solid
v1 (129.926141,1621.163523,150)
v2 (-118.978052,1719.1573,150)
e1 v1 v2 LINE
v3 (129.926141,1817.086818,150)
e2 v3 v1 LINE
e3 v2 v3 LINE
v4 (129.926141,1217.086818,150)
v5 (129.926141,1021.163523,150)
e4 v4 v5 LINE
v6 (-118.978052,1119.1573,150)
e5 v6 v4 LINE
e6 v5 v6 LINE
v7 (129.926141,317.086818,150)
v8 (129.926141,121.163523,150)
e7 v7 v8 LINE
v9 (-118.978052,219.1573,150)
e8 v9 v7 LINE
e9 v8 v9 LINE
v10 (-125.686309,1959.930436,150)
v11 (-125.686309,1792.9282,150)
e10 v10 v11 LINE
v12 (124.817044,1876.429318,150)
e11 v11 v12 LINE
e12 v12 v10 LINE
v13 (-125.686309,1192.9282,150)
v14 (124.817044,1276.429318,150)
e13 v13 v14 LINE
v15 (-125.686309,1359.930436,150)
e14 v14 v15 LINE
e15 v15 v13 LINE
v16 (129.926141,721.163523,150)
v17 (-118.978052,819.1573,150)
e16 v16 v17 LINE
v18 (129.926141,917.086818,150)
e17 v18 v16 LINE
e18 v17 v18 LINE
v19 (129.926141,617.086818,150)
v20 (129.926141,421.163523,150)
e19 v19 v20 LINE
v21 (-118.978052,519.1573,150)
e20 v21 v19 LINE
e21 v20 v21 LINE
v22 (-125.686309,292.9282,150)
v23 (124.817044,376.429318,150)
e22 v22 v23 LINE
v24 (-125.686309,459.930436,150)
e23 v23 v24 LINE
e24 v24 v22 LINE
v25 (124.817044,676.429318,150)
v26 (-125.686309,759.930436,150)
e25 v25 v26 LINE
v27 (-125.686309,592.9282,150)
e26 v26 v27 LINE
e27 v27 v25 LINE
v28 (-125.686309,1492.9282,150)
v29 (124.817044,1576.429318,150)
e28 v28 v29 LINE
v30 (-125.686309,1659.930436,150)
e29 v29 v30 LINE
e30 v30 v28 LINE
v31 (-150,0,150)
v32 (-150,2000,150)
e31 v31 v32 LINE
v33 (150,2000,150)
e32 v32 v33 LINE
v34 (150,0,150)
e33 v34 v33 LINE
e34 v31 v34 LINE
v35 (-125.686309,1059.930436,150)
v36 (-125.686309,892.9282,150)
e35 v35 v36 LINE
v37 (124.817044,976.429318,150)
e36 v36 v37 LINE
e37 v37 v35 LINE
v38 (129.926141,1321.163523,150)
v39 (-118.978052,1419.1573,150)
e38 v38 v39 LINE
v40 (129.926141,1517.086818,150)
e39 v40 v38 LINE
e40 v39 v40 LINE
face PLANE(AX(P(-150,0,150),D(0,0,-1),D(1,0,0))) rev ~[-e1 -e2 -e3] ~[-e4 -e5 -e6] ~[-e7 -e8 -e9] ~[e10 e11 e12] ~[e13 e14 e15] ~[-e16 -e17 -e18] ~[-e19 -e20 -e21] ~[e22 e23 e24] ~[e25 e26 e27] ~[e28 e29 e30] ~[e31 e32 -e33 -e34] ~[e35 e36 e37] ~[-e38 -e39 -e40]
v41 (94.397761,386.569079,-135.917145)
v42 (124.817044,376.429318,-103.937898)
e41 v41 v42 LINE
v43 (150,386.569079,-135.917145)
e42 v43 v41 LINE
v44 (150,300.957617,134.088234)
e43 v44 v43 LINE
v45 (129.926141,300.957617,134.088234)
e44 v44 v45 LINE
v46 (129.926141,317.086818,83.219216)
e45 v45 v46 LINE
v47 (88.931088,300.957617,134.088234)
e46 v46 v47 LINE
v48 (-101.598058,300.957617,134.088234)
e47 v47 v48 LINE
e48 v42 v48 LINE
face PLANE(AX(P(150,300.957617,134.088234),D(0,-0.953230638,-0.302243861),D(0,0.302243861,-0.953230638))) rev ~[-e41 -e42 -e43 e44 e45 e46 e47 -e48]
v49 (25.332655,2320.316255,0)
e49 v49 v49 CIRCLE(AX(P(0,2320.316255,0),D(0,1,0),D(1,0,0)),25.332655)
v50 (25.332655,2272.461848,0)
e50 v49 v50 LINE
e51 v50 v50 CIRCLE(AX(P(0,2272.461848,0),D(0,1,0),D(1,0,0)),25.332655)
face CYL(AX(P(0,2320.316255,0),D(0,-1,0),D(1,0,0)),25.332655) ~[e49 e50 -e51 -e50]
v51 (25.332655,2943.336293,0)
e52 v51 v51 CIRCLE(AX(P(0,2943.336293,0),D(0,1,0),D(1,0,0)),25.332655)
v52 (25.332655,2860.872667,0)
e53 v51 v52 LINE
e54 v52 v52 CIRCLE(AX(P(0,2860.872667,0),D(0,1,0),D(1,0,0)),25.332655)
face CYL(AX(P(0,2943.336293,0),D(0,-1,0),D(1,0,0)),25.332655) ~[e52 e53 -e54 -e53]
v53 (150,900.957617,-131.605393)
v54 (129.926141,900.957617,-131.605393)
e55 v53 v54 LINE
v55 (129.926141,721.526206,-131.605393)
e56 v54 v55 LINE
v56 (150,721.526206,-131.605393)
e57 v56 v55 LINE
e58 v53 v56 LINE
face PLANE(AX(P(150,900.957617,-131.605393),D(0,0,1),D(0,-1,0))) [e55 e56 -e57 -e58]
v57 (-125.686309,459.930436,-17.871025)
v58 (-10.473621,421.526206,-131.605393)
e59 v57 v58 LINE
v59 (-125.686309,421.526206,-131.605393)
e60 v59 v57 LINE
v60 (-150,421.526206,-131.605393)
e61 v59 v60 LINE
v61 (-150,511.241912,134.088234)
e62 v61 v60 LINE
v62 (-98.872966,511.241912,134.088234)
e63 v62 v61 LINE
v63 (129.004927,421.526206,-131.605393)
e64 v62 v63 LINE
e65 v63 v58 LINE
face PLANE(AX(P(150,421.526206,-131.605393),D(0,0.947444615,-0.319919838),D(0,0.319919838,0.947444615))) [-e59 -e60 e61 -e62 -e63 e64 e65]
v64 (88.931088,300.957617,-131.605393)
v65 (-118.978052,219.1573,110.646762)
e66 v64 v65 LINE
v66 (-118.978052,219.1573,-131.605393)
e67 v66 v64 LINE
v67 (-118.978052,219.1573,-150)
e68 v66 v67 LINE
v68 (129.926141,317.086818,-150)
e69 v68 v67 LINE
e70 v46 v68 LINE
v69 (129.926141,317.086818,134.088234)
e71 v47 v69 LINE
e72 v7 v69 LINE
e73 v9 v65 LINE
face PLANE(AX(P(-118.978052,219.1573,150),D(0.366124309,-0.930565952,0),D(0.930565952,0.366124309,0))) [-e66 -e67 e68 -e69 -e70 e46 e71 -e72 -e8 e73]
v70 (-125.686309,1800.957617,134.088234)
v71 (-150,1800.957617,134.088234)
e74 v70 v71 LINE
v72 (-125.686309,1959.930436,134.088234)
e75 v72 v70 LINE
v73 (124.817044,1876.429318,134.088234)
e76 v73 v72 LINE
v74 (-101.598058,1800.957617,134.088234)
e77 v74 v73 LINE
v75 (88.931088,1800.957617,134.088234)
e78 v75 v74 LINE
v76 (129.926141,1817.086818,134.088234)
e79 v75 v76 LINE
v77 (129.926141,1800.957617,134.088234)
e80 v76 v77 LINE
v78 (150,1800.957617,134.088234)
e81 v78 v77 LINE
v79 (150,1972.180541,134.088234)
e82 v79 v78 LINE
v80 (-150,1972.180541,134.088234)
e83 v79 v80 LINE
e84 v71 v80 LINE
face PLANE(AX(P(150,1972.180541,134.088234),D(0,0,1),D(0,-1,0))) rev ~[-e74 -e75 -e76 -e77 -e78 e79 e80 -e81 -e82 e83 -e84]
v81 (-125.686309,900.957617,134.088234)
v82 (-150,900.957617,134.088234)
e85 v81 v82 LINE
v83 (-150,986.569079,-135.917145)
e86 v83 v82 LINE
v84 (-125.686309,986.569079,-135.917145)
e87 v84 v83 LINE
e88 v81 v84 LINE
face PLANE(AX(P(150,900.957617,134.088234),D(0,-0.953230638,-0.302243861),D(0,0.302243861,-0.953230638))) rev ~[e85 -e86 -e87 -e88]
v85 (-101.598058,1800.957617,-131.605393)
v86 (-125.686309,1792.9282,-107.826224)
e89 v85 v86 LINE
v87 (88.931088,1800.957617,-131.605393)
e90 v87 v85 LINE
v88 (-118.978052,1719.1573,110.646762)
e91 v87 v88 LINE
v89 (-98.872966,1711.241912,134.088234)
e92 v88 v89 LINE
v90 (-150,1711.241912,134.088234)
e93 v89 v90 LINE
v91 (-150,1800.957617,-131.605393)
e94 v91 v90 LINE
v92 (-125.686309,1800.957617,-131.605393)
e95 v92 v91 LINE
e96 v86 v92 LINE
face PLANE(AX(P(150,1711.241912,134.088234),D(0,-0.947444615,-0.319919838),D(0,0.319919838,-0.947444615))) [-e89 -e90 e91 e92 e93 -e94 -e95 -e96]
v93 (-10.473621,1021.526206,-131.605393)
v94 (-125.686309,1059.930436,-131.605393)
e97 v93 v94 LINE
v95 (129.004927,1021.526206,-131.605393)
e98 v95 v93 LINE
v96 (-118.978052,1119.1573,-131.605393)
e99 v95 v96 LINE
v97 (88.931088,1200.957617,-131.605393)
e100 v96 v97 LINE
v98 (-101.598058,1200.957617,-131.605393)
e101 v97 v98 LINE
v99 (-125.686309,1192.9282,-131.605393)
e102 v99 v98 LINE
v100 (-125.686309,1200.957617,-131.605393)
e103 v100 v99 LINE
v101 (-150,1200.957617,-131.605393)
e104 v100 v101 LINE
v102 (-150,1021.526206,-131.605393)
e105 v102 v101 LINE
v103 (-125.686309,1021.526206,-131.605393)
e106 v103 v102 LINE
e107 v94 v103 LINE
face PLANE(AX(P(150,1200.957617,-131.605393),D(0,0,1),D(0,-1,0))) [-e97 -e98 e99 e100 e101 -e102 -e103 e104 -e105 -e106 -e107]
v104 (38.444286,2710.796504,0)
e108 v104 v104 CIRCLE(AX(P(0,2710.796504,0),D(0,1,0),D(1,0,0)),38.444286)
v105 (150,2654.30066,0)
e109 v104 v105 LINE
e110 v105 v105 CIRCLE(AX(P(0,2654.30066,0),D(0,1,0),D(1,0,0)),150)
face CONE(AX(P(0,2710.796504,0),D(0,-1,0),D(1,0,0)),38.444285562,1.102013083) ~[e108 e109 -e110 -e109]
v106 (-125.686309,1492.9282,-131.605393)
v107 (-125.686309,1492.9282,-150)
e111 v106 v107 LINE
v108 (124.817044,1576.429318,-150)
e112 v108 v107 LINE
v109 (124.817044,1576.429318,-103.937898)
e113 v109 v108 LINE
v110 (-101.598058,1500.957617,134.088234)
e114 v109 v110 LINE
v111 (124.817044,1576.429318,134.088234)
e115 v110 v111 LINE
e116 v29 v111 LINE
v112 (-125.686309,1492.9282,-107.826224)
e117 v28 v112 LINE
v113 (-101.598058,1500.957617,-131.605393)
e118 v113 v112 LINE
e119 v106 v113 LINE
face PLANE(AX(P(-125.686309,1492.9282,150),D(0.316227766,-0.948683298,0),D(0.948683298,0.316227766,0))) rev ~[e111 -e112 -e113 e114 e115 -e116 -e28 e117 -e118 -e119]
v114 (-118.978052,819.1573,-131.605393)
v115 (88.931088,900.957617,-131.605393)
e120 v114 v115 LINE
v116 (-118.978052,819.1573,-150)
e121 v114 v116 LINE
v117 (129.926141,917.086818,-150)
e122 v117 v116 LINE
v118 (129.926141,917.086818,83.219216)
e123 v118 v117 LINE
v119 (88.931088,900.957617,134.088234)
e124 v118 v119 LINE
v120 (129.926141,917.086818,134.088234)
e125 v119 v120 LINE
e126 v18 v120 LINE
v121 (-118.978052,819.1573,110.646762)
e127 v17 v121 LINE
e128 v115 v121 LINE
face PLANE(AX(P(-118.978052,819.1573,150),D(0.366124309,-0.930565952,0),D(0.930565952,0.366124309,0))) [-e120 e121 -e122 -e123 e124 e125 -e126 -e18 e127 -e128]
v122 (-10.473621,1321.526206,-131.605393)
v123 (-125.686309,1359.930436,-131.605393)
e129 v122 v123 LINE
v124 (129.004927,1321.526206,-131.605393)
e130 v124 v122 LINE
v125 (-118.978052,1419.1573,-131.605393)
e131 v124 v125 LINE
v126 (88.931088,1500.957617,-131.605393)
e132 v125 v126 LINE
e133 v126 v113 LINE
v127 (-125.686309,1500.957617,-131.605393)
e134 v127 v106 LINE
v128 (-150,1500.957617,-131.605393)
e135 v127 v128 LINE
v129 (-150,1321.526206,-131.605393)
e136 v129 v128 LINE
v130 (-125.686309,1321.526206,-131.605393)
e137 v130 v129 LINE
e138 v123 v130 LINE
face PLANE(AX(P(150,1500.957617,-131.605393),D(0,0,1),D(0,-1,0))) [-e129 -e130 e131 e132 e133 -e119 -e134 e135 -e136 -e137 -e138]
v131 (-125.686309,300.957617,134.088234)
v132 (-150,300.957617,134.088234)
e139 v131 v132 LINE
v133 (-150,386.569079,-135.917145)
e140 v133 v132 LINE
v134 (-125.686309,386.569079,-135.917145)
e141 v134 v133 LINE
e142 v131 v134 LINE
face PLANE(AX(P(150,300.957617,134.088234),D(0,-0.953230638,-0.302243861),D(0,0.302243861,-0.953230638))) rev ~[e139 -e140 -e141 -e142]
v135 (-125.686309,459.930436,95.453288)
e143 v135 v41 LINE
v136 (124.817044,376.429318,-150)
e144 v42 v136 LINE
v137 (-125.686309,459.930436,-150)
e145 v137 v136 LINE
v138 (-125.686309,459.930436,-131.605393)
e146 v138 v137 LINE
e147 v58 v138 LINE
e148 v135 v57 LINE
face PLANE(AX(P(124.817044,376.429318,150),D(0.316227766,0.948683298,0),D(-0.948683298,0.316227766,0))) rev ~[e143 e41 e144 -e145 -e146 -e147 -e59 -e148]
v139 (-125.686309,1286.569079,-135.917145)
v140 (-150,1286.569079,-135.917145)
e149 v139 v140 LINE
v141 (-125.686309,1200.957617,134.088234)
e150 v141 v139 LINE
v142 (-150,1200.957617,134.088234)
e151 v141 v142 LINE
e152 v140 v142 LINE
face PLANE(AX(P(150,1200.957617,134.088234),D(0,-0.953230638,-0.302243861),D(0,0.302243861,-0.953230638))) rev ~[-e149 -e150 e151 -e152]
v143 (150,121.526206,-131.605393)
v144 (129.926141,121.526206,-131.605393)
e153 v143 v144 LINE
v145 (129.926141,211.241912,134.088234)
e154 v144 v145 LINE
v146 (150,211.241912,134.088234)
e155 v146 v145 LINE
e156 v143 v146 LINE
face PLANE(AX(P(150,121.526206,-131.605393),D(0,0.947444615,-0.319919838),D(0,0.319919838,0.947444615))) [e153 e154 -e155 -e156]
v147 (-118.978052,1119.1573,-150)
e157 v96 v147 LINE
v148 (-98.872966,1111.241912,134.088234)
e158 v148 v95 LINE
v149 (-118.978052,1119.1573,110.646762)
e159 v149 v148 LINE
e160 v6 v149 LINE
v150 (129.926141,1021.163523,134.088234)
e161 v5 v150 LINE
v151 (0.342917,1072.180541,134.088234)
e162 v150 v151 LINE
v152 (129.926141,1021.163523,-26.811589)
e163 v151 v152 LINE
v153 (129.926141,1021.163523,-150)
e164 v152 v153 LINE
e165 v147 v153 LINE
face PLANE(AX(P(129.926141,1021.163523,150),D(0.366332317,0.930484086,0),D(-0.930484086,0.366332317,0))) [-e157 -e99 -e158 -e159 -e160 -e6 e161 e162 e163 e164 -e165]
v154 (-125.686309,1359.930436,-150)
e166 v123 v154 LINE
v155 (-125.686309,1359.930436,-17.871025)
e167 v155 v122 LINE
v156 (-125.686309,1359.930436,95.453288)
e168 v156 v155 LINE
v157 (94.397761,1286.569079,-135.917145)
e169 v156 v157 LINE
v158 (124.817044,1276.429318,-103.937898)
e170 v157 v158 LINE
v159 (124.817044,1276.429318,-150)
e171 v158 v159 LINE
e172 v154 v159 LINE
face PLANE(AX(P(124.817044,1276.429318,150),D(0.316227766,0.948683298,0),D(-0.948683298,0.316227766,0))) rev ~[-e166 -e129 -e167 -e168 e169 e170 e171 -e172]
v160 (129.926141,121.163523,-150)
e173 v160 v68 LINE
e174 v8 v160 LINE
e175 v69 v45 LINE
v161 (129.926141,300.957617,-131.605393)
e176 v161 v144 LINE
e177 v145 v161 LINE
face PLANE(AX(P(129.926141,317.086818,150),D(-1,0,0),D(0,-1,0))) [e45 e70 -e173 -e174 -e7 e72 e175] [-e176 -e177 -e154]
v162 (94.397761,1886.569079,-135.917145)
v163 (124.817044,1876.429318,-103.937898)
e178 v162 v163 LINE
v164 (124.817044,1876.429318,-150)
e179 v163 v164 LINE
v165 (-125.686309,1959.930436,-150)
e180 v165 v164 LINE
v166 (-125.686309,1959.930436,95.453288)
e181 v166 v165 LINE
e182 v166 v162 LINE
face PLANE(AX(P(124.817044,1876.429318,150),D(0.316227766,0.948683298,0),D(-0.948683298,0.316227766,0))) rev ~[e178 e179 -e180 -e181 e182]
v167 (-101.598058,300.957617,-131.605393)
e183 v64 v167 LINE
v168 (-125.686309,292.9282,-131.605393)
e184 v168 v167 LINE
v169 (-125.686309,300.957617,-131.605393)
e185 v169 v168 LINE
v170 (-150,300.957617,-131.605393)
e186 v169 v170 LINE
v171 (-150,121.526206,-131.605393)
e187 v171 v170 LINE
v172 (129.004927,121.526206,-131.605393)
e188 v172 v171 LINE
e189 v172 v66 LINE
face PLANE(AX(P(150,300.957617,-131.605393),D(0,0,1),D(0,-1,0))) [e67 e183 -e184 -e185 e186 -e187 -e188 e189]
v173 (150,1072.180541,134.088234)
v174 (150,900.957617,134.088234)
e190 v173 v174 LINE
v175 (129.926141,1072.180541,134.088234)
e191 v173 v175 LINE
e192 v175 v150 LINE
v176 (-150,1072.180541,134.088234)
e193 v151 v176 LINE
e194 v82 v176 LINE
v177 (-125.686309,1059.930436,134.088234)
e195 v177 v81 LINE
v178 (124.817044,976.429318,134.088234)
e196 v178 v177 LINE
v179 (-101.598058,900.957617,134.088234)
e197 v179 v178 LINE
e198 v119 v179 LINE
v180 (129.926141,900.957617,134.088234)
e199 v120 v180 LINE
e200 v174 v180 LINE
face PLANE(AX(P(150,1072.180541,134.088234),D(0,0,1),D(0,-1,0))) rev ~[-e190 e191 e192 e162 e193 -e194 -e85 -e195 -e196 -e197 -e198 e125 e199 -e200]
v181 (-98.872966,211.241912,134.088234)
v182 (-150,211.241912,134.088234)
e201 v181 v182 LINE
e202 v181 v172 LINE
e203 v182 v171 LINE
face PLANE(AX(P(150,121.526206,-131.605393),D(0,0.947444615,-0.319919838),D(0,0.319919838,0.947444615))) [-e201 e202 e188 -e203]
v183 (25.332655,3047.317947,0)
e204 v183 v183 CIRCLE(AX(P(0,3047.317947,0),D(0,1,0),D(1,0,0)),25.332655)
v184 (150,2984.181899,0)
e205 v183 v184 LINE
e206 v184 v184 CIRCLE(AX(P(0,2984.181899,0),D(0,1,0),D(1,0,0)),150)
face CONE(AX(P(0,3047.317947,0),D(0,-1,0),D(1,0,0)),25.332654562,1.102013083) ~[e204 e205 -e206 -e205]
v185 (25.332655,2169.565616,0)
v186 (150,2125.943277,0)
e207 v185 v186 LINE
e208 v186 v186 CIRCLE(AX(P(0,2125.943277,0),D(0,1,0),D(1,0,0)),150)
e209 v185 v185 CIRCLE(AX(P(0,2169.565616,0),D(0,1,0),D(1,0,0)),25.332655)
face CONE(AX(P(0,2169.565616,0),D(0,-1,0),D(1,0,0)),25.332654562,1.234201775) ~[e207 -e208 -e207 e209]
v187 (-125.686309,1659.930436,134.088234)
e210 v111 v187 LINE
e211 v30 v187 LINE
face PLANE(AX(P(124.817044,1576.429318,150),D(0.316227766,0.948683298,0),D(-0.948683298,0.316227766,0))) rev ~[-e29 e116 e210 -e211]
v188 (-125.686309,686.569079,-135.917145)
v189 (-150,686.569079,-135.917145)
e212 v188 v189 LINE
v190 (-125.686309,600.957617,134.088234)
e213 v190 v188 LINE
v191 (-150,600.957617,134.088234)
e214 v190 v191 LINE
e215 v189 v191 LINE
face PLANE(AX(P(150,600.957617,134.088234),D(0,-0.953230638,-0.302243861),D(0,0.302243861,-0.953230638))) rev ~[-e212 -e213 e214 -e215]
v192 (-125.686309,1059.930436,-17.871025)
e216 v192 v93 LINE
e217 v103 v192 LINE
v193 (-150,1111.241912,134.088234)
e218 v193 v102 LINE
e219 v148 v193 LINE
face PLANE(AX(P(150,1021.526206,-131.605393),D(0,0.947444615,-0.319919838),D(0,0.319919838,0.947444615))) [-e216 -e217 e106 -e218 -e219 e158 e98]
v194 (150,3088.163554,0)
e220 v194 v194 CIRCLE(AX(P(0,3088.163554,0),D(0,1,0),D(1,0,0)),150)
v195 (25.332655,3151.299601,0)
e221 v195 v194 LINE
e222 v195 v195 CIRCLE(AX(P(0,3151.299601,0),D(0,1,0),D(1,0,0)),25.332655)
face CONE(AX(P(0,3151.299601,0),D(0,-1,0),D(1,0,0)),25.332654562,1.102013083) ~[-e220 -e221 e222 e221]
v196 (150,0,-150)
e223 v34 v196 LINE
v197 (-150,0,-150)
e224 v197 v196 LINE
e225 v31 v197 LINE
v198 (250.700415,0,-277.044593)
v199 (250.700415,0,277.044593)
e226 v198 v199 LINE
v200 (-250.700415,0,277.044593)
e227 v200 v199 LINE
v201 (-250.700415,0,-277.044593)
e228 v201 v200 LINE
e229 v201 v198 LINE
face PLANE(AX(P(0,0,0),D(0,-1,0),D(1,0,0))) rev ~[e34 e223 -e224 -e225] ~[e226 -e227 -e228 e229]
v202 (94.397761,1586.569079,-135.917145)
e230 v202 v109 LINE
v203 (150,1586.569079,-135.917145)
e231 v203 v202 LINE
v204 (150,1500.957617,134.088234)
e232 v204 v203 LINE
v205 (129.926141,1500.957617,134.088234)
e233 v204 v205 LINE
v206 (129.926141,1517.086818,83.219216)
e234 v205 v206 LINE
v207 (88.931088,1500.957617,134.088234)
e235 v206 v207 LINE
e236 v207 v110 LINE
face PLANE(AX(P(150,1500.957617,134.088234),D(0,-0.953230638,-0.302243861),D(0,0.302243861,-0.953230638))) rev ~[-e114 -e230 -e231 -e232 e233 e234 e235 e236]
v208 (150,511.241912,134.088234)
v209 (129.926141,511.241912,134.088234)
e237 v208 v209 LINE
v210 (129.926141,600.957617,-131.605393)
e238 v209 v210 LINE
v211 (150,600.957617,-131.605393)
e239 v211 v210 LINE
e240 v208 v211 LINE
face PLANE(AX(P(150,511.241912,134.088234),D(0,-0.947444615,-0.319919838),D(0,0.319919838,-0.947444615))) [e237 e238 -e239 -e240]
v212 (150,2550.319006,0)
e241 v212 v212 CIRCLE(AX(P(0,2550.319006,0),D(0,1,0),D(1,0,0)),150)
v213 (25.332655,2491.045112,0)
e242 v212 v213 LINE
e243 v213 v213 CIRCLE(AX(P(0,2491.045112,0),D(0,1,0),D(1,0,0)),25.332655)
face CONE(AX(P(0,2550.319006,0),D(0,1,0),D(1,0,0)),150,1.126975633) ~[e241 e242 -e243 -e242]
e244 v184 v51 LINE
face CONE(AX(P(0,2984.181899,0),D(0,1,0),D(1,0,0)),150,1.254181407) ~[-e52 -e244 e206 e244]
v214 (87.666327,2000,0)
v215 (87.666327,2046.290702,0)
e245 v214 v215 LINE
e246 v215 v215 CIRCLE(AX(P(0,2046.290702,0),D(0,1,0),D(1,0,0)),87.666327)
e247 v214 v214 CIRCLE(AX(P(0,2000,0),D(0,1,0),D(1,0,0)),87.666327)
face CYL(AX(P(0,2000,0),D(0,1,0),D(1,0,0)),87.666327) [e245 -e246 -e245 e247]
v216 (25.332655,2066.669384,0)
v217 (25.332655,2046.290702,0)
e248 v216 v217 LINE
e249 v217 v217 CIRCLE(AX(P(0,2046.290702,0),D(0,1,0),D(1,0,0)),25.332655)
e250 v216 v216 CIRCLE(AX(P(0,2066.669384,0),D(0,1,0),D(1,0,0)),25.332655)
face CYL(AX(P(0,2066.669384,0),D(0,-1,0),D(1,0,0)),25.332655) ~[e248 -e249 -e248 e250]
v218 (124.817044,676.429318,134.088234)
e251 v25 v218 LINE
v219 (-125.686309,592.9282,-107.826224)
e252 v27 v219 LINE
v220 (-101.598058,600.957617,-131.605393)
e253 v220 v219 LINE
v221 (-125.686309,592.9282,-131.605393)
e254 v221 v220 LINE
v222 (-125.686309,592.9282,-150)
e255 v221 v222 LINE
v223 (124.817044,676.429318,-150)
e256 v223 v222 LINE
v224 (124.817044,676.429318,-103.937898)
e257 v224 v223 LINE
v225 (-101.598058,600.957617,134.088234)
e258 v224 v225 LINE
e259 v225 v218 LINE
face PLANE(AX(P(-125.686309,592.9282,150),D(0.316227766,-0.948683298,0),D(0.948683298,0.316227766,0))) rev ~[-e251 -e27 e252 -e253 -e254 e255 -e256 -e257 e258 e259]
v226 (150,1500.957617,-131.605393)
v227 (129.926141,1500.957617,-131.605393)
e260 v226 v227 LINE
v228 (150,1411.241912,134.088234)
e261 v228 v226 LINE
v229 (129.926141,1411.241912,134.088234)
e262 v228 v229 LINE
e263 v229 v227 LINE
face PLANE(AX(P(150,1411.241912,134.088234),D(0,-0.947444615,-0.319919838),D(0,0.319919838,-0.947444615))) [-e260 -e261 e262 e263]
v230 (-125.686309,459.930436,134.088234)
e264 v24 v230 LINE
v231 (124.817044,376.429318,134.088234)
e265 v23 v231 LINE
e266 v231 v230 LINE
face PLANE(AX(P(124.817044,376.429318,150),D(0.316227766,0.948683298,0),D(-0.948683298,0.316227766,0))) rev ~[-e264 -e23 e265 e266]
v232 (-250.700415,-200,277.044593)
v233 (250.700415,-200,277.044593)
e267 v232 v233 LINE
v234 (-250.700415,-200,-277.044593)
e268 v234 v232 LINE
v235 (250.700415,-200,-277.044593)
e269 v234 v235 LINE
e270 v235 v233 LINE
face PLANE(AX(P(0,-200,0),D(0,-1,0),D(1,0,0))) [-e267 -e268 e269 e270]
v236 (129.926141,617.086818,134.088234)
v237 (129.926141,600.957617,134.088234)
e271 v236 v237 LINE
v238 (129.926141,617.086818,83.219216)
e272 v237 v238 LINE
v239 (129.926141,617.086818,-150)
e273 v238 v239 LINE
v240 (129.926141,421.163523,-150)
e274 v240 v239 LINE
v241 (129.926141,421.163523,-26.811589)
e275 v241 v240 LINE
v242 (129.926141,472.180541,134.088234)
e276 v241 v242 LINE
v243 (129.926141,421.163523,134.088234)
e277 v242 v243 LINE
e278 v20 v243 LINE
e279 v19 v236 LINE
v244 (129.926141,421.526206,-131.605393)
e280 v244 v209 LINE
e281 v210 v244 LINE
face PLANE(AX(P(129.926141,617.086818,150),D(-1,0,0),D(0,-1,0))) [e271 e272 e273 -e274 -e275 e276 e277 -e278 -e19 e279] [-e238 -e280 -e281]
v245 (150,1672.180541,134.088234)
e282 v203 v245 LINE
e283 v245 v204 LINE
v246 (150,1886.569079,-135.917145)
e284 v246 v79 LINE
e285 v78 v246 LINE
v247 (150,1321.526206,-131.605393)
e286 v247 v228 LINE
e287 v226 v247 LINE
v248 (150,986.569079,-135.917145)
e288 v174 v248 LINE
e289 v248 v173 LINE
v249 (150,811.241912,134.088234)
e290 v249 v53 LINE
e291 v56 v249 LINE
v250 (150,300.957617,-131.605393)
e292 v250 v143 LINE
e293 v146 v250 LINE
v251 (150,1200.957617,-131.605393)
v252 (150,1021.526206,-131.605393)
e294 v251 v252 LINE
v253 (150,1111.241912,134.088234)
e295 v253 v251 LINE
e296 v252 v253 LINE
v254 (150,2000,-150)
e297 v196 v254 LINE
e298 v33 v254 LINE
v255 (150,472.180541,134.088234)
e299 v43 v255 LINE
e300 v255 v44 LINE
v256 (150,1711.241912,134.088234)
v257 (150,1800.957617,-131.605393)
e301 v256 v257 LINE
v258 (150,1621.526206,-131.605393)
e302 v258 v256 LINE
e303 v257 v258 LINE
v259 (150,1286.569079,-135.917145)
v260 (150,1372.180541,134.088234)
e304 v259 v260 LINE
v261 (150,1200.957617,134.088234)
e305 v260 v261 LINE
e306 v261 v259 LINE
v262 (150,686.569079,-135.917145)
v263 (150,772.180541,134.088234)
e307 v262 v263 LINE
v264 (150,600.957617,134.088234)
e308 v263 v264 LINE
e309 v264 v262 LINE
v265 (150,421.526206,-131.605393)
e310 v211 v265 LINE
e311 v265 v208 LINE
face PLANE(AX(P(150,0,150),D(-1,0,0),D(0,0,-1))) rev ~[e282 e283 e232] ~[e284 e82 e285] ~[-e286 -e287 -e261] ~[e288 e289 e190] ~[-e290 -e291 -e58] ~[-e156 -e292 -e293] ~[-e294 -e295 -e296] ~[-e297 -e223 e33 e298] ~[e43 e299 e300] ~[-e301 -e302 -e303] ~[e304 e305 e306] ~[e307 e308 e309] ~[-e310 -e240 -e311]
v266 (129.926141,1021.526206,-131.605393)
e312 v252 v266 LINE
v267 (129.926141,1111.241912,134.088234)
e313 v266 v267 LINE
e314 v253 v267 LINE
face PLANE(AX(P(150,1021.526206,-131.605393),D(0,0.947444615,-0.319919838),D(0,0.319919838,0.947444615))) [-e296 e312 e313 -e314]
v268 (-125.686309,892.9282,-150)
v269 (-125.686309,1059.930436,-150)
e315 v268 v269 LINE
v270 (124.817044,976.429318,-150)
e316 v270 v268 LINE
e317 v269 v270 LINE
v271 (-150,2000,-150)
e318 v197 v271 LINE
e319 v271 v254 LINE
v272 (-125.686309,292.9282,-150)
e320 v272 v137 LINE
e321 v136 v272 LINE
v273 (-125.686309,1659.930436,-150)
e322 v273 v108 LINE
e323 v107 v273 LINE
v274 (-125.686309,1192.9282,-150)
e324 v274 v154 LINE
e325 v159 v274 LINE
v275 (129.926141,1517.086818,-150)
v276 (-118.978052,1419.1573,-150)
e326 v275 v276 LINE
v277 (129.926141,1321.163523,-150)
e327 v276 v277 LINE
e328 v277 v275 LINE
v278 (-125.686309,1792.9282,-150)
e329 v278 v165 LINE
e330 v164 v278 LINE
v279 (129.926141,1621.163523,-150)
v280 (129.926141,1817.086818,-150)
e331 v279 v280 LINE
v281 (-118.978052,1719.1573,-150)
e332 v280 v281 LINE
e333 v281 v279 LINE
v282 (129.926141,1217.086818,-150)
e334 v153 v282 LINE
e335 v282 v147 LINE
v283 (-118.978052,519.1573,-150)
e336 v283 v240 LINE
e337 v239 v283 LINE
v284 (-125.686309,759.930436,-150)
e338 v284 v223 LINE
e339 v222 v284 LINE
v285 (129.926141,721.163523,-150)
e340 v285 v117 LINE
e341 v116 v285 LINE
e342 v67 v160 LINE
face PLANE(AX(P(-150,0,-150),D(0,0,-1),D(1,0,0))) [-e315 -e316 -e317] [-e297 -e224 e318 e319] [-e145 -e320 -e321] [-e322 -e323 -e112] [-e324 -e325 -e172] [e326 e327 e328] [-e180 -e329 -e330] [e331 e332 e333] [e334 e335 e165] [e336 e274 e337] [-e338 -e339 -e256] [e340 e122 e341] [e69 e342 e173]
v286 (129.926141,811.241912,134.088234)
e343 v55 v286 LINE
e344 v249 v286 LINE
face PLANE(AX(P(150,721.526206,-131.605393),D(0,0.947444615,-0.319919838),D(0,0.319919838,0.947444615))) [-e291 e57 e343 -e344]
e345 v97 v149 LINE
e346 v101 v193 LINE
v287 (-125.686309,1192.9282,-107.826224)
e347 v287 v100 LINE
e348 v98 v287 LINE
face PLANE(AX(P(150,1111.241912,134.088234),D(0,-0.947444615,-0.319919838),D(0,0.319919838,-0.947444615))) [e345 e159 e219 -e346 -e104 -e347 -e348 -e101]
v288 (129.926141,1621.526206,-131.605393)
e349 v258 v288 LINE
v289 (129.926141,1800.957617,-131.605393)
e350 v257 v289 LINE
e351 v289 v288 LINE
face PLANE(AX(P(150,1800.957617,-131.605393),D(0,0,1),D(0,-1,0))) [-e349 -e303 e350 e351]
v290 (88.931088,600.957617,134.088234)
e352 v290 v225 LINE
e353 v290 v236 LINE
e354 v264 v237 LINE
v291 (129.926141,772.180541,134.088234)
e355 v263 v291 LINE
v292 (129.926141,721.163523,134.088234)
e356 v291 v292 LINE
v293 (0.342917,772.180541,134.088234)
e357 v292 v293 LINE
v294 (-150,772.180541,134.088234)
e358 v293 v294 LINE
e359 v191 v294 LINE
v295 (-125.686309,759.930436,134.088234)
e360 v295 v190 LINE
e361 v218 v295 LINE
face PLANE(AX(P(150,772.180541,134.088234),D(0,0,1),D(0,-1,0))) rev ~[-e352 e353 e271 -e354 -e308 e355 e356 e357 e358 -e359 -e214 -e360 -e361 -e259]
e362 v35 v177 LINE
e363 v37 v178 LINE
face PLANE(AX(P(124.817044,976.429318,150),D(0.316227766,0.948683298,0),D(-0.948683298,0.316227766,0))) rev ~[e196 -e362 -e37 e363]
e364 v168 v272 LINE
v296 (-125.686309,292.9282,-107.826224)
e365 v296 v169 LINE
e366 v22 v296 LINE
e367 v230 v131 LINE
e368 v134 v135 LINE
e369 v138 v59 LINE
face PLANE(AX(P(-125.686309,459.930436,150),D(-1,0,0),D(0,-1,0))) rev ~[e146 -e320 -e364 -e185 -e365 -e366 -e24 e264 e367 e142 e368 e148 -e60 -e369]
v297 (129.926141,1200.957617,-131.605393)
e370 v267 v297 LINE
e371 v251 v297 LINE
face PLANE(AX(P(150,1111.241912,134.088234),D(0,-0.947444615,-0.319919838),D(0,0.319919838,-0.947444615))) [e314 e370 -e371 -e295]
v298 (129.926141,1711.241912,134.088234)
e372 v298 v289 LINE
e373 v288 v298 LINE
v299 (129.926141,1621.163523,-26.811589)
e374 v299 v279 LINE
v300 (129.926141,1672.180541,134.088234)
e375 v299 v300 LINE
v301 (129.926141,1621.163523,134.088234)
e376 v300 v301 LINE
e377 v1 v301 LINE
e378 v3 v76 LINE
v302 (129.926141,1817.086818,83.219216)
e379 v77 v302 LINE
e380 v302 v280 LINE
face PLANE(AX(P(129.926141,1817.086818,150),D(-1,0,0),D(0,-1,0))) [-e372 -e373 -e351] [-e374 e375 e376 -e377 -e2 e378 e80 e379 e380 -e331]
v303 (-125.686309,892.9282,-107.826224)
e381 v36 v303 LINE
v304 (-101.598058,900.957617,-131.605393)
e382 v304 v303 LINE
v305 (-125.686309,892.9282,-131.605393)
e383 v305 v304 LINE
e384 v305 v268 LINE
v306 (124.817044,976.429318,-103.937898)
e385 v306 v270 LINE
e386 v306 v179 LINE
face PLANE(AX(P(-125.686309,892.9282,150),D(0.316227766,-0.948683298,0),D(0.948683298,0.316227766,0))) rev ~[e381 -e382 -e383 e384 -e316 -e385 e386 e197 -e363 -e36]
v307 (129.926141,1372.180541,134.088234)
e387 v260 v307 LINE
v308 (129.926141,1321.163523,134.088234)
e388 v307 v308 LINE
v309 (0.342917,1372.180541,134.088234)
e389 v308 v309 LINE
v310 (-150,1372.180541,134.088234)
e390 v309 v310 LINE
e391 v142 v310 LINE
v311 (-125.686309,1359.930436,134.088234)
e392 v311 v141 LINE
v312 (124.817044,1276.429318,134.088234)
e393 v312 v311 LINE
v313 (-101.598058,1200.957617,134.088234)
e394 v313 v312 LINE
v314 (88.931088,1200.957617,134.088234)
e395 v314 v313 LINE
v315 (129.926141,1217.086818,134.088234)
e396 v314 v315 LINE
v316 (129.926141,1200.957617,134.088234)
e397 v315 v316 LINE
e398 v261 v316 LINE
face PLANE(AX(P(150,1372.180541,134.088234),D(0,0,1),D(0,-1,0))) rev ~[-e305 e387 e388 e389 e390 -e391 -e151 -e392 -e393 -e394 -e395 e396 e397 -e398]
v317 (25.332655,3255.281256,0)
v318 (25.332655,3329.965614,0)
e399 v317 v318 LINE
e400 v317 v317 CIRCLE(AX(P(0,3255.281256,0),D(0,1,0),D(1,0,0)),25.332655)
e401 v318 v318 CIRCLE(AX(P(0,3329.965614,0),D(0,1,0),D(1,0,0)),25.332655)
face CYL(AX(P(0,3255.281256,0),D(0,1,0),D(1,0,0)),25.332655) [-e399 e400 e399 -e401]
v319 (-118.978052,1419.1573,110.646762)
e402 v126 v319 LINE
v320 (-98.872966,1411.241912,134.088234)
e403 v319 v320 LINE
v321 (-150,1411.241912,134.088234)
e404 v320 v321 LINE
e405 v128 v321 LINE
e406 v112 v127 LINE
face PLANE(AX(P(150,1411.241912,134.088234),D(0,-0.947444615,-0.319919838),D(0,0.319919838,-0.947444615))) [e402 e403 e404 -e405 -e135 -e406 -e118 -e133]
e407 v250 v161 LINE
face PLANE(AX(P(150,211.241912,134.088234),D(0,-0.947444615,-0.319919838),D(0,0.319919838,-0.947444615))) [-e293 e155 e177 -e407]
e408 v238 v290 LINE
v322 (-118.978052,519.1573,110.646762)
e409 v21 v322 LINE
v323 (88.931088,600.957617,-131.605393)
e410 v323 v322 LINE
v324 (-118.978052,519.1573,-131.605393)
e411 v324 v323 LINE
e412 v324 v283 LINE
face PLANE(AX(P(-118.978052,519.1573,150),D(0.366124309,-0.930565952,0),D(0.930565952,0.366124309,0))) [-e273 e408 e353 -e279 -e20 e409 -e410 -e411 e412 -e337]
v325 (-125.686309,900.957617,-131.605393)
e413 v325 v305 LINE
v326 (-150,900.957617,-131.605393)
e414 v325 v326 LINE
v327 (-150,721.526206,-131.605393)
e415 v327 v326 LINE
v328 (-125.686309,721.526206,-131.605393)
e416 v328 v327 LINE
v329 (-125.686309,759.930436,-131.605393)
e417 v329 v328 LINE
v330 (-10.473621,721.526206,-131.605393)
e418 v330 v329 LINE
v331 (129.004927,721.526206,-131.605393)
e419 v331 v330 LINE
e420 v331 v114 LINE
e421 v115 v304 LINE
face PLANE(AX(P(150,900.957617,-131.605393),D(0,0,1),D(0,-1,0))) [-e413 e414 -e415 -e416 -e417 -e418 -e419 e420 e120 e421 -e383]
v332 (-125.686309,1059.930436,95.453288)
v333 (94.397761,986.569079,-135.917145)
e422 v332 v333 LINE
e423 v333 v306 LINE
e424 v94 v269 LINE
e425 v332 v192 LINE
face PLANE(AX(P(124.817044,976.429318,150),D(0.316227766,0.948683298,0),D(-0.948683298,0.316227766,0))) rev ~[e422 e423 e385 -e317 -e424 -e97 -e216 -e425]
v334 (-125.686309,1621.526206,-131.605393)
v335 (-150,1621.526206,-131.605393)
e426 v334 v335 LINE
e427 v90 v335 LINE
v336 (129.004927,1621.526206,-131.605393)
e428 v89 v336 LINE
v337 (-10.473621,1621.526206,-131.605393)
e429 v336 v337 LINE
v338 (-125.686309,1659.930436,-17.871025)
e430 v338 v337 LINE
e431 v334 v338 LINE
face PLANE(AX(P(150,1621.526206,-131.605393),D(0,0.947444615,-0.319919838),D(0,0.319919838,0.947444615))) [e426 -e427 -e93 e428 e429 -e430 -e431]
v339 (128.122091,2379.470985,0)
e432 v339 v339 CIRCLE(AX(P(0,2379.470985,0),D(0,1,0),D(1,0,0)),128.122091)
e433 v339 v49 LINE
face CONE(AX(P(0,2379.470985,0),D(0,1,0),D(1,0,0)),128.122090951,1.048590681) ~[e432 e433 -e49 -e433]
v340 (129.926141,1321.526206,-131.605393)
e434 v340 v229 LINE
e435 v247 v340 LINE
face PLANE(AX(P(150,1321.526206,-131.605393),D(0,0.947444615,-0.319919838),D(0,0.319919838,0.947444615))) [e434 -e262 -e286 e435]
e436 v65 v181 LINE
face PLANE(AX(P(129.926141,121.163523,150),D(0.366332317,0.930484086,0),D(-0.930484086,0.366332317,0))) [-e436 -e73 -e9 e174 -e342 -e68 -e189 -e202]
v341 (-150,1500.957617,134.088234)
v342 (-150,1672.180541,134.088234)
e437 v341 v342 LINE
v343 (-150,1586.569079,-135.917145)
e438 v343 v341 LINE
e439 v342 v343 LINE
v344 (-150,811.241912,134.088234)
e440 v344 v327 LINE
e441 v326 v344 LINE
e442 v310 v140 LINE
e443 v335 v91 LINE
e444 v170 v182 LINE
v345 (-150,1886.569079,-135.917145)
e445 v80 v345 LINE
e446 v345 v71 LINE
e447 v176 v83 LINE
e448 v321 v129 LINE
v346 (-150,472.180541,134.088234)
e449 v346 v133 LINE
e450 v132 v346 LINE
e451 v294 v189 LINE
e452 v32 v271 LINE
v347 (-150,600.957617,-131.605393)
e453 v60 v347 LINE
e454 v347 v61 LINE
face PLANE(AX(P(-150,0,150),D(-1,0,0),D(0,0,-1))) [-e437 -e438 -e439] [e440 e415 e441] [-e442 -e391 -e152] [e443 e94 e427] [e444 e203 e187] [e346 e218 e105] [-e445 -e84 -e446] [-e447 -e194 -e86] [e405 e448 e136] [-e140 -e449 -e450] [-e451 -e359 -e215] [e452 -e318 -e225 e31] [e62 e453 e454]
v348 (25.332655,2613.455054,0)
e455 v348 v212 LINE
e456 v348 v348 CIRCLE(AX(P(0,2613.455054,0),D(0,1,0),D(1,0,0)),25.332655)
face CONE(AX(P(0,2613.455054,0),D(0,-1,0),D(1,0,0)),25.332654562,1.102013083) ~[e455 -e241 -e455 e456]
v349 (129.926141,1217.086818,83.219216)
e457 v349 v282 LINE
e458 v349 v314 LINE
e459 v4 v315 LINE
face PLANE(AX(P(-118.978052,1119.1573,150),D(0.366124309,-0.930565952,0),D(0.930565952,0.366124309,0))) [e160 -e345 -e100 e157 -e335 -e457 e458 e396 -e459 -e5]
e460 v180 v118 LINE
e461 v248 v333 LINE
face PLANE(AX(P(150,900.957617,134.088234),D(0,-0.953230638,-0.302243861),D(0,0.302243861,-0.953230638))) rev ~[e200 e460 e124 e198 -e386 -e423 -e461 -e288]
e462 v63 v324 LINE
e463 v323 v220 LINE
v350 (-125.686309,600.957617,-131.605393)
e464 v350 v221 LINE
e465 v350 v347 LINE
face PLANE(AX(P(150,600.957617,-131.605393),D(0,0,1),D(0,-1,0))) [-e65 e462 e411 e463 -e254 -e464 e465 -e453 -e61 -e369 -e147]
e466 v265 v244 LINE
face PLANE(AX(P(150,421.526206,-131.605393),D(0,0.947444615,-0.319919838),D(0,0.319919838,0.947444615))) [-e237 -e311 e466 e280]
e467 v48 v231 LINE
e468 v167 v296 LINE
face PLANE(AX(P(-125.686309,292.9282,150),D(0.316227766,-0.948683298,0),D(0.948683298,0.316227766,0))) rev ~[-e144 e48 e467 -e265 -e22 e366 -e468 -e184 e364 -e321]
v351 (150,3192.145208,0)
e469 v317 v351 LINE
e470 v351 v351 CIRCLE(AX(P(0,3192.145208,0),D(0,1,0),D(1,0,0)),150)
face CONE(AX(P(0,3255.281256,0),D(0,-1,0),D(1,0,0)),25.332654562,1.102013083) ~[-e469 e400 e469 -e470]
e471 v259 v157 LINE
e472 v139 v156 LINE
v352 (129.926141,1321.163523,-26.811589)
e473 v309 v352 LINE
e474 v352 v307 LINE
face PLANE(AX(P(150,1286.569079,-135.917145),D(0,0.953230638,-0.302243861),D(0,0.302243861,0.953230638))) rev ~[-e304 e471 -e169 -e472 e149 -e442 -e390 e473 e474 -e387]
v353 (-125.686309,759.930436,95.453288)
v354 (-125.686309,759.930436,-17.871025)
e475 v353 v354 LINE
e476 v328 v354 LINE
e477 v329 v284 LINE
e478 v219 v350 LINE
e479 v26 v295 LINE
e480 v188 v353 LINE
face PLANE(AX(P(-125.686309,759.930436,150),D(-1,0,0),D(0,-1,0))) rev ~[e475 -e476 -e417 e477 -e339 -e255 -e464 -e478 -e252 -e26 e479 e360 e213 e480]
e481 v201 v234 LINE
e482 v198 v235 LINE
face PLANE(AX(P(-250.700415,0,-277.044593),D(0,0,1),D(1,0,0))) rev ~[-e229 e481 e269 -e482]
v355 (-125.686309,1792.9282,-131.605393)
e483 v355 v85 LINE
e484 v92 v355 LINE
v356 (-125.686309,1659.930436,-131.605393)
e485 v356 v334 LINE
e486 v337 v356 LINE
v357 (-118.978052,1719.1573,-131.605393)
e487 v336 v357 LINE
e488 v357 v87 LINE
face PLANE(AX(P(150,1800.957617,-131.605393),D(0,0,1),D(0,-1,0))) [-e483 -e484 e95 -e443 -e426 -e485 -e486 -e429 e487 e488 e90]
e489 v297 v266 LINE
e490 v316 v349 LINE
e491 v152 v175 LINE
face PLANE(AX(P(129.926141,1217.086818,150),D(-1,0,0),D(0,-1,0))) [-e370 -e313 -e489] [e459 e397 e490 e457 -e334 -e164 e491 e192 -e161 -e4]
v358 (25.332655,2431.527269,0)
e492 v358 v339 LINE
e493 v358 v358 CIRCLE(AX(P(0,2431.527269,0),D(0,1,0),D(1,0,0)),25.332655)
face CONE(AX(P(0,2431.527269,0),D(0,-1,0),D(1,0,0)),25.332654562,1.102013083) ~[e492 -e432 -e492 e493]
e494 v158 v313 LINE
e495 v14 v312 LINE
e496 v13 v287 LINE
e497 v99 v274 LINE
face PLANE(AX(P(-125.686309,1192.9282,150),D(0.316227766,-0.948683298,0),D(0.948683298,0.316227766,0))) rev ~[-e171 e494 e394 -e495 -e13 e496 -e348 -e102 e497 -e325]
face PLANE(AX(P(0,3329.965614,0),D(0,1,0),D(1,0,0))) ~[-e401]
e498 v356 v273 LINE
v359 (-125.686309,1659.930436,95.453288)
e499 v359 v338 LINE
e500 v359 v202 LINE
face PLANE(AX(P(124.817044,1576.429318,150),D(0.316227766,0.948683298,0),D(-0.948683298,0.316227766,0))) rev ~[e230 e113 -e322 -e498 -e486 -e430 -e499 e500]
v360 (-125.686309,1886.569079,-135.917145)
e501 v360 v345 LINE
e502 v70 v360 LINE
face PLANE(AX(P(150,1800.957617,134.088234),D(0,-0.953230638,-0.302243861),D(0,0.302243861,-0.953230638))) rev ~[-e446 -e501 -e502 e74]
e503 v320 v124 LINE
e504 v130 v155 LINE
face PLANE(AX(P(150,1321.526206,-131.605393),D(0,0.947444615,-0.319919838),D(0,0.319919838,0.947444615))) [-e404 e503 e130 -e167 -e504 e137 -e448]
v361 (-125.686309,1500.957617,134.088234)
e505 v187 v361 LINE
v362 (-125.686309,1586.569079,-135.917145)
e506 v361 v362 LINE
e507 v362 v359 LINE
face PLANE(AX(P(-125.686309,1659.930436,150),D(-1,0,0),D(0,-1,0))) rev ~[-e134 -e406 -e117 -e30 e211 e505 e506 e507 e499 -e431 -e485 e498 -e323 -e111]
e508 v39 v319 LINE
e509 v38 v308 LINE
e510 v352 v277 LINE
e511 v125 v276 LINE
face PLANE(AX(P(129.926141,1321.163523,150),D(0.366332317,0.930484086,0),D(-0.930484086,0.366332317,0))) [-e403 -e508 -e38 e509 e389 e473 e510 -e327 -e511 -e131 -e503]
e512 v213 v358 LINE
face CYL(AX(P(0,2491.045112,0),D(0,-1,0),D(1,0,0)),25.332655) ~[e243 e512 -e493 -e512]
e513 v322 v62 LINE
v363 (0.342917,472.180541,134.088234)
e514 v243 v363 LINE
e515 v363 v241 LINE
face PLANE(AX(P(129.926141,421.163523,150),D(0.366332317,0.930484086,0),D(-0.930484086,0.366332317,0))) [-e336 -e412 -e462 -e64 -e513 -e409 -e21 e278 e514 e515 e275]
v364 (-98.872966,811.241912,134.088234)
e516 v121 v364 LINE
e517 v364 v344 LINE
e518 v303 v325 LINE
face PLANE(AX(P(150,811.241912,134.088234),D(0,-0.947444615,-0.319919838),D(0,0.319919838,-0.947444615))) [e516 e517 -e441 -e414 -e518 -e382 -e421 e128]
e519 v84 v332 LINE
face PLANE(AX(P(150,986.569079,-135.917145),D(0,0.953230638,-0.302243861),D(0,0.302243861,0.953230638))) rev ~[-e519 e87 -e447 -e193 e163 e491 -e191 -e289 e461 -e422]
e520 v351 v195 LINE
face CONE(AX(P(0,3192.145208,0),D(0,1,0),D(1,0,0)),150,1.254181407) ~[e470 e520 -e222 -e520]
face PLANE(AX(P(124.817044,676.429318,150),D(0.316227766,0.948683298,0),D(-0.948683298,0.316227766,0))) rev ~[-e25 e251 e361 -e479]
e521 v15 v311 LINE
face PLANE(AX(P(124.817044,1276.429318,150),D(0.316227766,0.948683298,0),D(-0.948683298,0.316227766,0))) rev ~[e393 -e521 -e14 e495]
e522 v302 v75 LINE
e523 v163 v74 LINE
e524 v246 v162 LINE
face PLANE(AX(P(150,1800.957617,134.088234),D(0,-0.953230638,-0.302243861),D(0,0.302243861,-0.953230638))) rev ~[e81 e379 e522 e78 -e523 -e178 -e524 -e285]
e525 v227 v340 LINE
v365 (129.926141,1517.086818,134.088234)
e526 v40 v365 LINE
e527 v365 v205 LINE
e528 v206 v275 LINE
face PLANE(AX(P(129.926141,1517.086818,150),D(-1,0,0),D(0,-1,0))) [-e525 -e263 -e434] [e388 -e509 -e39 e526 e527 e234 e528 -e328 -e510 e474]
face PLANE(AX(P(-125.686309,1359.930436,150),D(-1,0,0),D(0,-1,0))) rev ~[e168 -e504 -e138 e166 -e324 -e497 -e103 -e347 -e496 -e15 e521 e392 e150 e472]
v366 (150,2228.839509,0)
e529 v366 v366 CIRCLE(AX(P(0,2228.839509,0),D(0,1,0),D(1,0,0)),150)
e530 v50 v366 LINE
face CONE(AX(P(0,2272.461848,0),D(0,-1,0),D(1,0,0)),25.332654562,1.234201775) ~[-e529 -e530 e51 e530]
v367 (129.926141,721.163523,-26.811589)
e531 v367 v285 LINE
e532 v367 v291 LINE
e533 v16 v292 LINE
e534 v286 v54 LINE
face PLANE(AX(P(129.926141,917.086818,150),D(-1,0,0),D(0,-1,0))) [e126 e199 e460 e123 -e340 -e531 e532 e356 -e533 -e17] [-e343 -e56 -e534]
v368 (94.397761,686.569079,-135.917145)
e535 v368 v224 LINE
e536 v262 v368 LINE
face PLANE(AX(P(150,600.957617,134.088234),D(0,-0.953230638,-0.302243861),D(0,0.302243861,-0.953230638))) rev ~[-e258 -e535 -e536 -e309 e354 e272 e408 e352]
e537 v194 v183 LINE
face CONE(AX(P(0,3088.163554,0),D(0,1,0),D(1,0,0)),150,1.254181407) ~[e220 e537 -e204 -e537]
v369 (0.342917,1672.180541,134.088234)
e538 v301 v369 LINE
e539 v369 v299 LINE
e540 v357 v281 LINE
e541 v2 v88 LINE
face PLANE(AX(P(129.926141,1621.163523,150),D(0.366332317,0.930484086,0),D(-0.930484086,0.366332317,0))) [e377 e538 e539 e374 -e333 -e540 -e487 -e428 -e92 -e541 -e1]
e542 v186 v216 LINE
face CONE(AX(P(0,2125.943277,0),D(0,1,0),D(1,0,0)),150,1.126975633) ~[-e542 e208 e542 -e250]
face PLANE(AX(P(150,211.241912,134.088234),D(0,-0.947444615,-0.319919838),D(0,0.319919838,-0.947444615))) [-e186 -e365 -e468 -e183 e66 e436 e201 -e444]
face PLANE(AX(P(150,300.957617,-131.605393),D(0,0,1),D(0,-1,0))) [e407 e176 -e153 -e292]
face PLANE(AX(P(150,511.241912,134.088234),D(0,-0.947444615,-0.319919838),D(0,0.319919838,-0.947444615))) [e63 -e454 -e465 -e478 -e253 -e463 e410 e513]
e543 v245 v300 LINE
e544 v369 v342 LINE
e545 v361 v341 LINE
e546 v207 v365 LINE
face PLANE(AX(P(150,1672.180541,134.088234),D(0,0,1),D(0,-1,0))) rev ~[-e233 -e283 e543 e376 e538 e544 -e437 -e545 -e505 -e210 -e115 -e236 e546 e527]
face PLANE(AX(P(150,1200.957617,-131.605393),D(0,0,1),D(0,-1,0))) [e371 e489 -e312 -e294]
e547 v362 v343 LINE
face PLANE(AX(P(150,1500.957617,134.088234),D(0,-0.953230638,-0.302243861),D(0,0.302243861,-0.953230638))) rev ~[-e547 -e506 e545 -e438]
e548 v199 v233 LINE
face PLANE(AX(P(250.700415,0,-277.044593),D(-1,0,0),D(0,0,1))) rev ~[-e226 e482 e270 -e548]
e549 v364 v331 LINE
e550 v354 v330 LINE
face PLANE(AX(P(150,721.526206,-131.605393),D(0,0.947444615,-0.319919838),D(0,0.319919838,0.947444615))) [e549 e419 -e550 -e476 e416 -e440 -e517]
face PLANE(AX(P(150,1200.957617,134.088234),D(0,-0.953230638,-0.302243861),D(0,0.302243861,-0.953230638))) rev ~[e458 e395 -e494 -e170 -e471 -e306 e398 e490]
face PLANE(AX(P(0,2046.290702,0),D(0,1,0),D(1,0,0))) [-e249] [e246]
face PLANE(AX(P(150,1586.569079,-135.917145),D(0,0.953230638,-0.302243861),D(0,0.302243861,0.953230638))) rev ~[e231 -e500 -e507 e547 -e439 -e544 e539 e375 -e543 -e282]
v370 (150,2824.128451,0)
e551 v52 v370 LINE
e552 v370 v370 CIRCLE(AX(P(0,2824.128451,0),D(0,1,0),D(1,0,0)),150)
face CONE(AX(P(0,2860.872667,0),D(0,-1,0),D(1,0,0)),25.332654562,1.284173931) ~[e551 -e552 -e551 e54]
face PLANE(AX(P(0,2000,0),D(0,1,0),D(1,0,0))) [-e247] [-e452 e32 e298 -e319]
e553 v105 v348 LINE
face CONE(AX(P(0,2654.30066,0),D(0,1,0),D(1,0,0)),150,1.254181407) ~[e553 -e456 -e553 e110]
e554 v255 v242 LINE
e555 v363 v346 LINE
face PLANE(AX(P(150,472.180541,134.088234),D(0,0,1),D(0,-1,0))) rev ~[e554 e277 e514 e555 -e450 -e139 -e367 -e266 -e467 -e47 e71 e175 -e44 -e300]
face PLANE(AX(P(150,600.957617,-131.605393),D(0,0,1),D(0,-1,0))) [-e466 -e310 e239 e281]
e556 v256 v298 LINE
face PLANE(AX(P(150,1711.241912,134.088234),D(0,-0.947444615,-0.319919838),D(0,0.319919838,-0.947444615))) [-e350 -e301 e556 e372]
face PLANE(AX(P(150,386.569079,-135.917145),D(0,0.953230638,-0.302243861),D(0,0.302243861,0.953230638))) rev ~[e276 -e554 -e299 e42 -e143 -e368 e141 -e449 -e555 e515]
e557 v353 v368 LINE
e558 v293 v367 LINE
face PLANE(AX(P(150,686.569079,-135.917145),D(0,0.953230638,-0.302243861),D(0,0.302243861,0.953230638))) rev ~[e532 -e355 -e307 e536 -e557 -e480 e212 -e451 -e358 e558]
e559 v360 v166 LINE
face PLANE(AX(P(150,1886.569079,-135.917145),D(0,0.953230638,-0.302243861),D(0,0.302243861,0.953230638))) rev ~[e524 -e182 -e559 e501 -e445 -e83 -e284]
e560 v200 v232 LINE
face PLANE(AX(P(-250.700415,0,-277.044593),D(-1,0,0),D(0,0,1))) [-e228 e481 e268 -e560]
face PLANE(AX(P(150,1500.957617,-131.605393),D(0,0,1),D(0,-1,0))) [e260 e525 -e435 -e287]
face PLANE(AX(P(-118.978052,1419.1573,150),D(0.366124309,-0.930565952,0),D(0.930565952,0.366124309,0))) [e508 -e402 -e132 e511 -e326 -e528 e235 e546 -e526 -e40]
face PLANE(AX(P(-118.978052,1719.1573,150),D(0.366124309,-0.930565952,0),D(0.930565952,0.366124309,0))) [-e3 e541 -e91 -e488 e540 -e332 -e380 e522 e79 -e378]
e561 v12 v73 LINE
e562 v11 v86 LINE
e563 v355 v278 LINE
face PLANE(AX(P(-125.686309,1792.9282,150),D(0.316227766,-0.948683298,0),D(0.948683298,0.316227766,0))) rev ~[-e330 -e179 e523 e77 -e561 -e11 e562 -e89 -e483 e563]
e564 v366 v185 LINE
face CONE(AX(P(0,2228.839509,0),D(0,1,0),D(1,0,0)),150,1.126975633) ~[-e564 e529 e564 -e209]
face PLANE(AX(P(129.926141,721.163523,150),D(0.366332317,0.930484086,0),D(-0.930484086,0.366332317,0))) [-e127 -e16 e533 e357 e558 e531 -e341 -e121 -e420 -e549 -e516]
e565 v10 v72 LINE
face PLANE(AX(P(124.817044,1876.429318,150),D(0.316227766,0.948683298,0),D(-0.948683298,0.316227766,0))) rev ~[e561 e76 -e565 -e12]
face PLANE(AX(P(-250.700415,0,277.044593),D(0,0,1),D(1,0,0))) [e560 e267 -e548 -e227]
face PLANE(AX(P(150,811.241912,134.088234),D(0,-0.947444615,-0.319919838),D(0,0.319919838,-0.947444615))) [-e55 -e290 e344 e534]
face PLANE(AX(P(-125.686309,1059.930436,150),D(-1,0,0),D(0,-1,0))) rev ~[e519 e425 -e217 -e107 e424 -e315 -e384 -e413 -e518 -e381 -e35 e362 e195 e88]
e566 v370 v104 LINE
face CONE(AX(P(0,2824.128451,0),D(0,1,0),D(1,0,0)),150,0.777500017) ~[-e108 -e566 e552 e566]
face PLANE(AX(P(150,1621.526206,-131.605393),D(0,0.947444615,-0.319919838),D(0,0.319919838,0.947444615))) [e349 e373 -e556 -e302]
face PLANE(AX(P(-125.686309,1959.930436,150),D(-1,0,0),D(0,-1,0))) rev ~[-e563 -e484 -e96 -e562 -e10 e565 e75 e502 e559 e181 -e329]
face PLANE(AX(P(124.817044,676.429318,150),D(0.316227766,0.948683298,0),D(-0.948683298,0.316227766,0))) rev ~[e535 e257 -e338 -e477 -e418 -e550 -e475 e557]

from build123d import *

# Parameters (mm, degrees)
CROQUIS1_W              = 300
CROQUIS1_H              = 300
SALIENTE_EXTRUIR1_DEPTH = 2000
CORTAR_EXTRUIR1_DEPTH   = 2000
CORTAR_EXTRUIR2_DEPTH   = 2000
MATRIZL1_COUNT          = 6
MATRIZL1_PITCH          = 300
CORTAR_EXTRUIR3_DEPTH   = 2000
CORTAR_EXTRUIR4_DEPTH   = 2000
MATRIZL2_COUNT          = 6
MATRIZL2_PITCH          = 300
CROQUIS7_W              = 501.40083012
CROQUIS7_H              = 554.08918551
SALIENTE_EXTRUIR2_DEPTH = 200


with BuildPart() as part:
    # Croquis1 → Saliente-Extruir1 (new body)
    with BuildSketch(Plane(origin=(0, 0, 0), x_dir=(1, 0, 0), z_dir=(0, 1, 0))):
        Rectangle(CROQUIS1_W, CROQUIS1_H)
    extrude(amount=SALIENTE_EXTRUIR1_DEPTH)

    # Croquis2 → Cortar-Extruir1 (cut)
    with BuildSketch(Plane(origin=(150, 0, 0), x_dir=(0, 0, -1), z_dir=(1, 0, 0))):
        Polygon((-134.088234314, 1972.180540506), (-134.088234314, 1800.957617314), (135.917144565, 1886.56907891), align=None)
    cortar_extruir1 = extrude(amount=-CORTAR_EXTRUIR1_DEPTH, mode=Mode.SUBTRACT)

    # Croquis3 → Cortar-Extruir2 (cut)
    with BuildSketch(Plane(origin=(150, 0, 0), x_dir=(0, 0, -1), z_dir=(1, 0, 0))):
        Polygon((131.605393235, 1800.957617314), (131.605393235, 1621.526206022), (-134.088234314, 1711.241911668), align=None)
    cortar_extruir2 = extrude(amount=-CORTAR_EXTRUIR2_DEPTH, mode=Mode.SUBTRACT)

    # MatrizL1: Cortar-Extruir1, Cortar-Extruir2 ×6
    with Locations(*[(0, -i * MATRIZL1_PITCH, 0) for i in range(1, MATRIZL1_COUNT)]):
        add(cortar_extruir1, mode=Mode.SUBTRACT)
        add(cortar_extruir2, mode=Mode.SUBTRACT)

    # Croquis4 → Cortar-Extruir3 (cut)
    with BuildSketch(Plane.XY.offset(150)):
        Polygon((-125.686309313, 1959.930435597), (-125.686309313, 1792.928200212), (124.817043765, 1876.429317904), align=None)
    cortar_extruir3 = extrude(amount=-CORTAR_EXTRUIR3_DEPTH, mode=Mode.SUBTRACT)

    # Croquis5 → Cortar-Extruir4 (cut)
    with BuildSketch(Plane.XY.offset(150)):
        Polygon((129.926140532, 1817.086818278), (129.926140532, 1621.163523369), (-118.978051934, 1719.157299931), align=None)
    cortar_extruir4 = extrude(amount=-CORTAR_EXTRUIR4_DEPTH, mode=Mode.SUBTRACT)

    # MatrizL2: Cortar-Extruir3, Cortar-Extruir4 ×6
    with Locations(*[(0, -i * MATRIZL2_PITCH, 0) for i in range(1, MATRIZL2_COUNT)]):
        add(cortar_extruir3, mode=Mode.SUBTRACT)
        add(cortar_extruir4, mode=Mode.SUBTRACT)

    # Croquis6 → Revolución1 (revolve)
    with BuildSketch(Plane.XY):
        Polygon((0, 2000), (0, 3329.965614327), (25.332654562, 3329.965614327), (25.332654562, 3298.73521578), (25.332654562, 3255.281255936), (150, 3192.145208398), (25.332654562, 3151.299601463), (150, 3088.163553925), (25.332654562, 3047.31794699), (150, 2984.181899452), (25.332654562, 2943.336292517), (25.332654562, 2860.872667469), (150, 2824.128451403), (38.444285562, 2710.7965044), (150, 2654.300660478), (25.332654562, 2613.455053543), (150, 2550.319006005), (25.332654562, 2491.04511238), (25.332654562, 2431.527269427), (128.122090951, 2379.470985405), (25.332654562, 2320.316255375), (25.332654562, 2272.46184806), (150, 2228.839509408), (25.332654562, 2169.565615782), (150, 2125.94327713), (25.332654562, 2066.669383504), (25.332654562, 2046.290702054), (67.666327281, 2046.290702054), (87.666327281, 2046.290702054), (87.666327281, 2026.290702054), (87.666327281, 2000), align=None)
    revolve(axis=Axis((0, 2000, 0), (0, 1, 0)))

    # Croquis7 → Saliente-Extruir2 (add)
    with BuildSketch(Plane.XZ):
        Rectangle(CROQUIS7_W, CROQUIS7_H)
    extrude(amount=SALIENTE_EXTRUIR2_DEPTH)


solid = part.part
